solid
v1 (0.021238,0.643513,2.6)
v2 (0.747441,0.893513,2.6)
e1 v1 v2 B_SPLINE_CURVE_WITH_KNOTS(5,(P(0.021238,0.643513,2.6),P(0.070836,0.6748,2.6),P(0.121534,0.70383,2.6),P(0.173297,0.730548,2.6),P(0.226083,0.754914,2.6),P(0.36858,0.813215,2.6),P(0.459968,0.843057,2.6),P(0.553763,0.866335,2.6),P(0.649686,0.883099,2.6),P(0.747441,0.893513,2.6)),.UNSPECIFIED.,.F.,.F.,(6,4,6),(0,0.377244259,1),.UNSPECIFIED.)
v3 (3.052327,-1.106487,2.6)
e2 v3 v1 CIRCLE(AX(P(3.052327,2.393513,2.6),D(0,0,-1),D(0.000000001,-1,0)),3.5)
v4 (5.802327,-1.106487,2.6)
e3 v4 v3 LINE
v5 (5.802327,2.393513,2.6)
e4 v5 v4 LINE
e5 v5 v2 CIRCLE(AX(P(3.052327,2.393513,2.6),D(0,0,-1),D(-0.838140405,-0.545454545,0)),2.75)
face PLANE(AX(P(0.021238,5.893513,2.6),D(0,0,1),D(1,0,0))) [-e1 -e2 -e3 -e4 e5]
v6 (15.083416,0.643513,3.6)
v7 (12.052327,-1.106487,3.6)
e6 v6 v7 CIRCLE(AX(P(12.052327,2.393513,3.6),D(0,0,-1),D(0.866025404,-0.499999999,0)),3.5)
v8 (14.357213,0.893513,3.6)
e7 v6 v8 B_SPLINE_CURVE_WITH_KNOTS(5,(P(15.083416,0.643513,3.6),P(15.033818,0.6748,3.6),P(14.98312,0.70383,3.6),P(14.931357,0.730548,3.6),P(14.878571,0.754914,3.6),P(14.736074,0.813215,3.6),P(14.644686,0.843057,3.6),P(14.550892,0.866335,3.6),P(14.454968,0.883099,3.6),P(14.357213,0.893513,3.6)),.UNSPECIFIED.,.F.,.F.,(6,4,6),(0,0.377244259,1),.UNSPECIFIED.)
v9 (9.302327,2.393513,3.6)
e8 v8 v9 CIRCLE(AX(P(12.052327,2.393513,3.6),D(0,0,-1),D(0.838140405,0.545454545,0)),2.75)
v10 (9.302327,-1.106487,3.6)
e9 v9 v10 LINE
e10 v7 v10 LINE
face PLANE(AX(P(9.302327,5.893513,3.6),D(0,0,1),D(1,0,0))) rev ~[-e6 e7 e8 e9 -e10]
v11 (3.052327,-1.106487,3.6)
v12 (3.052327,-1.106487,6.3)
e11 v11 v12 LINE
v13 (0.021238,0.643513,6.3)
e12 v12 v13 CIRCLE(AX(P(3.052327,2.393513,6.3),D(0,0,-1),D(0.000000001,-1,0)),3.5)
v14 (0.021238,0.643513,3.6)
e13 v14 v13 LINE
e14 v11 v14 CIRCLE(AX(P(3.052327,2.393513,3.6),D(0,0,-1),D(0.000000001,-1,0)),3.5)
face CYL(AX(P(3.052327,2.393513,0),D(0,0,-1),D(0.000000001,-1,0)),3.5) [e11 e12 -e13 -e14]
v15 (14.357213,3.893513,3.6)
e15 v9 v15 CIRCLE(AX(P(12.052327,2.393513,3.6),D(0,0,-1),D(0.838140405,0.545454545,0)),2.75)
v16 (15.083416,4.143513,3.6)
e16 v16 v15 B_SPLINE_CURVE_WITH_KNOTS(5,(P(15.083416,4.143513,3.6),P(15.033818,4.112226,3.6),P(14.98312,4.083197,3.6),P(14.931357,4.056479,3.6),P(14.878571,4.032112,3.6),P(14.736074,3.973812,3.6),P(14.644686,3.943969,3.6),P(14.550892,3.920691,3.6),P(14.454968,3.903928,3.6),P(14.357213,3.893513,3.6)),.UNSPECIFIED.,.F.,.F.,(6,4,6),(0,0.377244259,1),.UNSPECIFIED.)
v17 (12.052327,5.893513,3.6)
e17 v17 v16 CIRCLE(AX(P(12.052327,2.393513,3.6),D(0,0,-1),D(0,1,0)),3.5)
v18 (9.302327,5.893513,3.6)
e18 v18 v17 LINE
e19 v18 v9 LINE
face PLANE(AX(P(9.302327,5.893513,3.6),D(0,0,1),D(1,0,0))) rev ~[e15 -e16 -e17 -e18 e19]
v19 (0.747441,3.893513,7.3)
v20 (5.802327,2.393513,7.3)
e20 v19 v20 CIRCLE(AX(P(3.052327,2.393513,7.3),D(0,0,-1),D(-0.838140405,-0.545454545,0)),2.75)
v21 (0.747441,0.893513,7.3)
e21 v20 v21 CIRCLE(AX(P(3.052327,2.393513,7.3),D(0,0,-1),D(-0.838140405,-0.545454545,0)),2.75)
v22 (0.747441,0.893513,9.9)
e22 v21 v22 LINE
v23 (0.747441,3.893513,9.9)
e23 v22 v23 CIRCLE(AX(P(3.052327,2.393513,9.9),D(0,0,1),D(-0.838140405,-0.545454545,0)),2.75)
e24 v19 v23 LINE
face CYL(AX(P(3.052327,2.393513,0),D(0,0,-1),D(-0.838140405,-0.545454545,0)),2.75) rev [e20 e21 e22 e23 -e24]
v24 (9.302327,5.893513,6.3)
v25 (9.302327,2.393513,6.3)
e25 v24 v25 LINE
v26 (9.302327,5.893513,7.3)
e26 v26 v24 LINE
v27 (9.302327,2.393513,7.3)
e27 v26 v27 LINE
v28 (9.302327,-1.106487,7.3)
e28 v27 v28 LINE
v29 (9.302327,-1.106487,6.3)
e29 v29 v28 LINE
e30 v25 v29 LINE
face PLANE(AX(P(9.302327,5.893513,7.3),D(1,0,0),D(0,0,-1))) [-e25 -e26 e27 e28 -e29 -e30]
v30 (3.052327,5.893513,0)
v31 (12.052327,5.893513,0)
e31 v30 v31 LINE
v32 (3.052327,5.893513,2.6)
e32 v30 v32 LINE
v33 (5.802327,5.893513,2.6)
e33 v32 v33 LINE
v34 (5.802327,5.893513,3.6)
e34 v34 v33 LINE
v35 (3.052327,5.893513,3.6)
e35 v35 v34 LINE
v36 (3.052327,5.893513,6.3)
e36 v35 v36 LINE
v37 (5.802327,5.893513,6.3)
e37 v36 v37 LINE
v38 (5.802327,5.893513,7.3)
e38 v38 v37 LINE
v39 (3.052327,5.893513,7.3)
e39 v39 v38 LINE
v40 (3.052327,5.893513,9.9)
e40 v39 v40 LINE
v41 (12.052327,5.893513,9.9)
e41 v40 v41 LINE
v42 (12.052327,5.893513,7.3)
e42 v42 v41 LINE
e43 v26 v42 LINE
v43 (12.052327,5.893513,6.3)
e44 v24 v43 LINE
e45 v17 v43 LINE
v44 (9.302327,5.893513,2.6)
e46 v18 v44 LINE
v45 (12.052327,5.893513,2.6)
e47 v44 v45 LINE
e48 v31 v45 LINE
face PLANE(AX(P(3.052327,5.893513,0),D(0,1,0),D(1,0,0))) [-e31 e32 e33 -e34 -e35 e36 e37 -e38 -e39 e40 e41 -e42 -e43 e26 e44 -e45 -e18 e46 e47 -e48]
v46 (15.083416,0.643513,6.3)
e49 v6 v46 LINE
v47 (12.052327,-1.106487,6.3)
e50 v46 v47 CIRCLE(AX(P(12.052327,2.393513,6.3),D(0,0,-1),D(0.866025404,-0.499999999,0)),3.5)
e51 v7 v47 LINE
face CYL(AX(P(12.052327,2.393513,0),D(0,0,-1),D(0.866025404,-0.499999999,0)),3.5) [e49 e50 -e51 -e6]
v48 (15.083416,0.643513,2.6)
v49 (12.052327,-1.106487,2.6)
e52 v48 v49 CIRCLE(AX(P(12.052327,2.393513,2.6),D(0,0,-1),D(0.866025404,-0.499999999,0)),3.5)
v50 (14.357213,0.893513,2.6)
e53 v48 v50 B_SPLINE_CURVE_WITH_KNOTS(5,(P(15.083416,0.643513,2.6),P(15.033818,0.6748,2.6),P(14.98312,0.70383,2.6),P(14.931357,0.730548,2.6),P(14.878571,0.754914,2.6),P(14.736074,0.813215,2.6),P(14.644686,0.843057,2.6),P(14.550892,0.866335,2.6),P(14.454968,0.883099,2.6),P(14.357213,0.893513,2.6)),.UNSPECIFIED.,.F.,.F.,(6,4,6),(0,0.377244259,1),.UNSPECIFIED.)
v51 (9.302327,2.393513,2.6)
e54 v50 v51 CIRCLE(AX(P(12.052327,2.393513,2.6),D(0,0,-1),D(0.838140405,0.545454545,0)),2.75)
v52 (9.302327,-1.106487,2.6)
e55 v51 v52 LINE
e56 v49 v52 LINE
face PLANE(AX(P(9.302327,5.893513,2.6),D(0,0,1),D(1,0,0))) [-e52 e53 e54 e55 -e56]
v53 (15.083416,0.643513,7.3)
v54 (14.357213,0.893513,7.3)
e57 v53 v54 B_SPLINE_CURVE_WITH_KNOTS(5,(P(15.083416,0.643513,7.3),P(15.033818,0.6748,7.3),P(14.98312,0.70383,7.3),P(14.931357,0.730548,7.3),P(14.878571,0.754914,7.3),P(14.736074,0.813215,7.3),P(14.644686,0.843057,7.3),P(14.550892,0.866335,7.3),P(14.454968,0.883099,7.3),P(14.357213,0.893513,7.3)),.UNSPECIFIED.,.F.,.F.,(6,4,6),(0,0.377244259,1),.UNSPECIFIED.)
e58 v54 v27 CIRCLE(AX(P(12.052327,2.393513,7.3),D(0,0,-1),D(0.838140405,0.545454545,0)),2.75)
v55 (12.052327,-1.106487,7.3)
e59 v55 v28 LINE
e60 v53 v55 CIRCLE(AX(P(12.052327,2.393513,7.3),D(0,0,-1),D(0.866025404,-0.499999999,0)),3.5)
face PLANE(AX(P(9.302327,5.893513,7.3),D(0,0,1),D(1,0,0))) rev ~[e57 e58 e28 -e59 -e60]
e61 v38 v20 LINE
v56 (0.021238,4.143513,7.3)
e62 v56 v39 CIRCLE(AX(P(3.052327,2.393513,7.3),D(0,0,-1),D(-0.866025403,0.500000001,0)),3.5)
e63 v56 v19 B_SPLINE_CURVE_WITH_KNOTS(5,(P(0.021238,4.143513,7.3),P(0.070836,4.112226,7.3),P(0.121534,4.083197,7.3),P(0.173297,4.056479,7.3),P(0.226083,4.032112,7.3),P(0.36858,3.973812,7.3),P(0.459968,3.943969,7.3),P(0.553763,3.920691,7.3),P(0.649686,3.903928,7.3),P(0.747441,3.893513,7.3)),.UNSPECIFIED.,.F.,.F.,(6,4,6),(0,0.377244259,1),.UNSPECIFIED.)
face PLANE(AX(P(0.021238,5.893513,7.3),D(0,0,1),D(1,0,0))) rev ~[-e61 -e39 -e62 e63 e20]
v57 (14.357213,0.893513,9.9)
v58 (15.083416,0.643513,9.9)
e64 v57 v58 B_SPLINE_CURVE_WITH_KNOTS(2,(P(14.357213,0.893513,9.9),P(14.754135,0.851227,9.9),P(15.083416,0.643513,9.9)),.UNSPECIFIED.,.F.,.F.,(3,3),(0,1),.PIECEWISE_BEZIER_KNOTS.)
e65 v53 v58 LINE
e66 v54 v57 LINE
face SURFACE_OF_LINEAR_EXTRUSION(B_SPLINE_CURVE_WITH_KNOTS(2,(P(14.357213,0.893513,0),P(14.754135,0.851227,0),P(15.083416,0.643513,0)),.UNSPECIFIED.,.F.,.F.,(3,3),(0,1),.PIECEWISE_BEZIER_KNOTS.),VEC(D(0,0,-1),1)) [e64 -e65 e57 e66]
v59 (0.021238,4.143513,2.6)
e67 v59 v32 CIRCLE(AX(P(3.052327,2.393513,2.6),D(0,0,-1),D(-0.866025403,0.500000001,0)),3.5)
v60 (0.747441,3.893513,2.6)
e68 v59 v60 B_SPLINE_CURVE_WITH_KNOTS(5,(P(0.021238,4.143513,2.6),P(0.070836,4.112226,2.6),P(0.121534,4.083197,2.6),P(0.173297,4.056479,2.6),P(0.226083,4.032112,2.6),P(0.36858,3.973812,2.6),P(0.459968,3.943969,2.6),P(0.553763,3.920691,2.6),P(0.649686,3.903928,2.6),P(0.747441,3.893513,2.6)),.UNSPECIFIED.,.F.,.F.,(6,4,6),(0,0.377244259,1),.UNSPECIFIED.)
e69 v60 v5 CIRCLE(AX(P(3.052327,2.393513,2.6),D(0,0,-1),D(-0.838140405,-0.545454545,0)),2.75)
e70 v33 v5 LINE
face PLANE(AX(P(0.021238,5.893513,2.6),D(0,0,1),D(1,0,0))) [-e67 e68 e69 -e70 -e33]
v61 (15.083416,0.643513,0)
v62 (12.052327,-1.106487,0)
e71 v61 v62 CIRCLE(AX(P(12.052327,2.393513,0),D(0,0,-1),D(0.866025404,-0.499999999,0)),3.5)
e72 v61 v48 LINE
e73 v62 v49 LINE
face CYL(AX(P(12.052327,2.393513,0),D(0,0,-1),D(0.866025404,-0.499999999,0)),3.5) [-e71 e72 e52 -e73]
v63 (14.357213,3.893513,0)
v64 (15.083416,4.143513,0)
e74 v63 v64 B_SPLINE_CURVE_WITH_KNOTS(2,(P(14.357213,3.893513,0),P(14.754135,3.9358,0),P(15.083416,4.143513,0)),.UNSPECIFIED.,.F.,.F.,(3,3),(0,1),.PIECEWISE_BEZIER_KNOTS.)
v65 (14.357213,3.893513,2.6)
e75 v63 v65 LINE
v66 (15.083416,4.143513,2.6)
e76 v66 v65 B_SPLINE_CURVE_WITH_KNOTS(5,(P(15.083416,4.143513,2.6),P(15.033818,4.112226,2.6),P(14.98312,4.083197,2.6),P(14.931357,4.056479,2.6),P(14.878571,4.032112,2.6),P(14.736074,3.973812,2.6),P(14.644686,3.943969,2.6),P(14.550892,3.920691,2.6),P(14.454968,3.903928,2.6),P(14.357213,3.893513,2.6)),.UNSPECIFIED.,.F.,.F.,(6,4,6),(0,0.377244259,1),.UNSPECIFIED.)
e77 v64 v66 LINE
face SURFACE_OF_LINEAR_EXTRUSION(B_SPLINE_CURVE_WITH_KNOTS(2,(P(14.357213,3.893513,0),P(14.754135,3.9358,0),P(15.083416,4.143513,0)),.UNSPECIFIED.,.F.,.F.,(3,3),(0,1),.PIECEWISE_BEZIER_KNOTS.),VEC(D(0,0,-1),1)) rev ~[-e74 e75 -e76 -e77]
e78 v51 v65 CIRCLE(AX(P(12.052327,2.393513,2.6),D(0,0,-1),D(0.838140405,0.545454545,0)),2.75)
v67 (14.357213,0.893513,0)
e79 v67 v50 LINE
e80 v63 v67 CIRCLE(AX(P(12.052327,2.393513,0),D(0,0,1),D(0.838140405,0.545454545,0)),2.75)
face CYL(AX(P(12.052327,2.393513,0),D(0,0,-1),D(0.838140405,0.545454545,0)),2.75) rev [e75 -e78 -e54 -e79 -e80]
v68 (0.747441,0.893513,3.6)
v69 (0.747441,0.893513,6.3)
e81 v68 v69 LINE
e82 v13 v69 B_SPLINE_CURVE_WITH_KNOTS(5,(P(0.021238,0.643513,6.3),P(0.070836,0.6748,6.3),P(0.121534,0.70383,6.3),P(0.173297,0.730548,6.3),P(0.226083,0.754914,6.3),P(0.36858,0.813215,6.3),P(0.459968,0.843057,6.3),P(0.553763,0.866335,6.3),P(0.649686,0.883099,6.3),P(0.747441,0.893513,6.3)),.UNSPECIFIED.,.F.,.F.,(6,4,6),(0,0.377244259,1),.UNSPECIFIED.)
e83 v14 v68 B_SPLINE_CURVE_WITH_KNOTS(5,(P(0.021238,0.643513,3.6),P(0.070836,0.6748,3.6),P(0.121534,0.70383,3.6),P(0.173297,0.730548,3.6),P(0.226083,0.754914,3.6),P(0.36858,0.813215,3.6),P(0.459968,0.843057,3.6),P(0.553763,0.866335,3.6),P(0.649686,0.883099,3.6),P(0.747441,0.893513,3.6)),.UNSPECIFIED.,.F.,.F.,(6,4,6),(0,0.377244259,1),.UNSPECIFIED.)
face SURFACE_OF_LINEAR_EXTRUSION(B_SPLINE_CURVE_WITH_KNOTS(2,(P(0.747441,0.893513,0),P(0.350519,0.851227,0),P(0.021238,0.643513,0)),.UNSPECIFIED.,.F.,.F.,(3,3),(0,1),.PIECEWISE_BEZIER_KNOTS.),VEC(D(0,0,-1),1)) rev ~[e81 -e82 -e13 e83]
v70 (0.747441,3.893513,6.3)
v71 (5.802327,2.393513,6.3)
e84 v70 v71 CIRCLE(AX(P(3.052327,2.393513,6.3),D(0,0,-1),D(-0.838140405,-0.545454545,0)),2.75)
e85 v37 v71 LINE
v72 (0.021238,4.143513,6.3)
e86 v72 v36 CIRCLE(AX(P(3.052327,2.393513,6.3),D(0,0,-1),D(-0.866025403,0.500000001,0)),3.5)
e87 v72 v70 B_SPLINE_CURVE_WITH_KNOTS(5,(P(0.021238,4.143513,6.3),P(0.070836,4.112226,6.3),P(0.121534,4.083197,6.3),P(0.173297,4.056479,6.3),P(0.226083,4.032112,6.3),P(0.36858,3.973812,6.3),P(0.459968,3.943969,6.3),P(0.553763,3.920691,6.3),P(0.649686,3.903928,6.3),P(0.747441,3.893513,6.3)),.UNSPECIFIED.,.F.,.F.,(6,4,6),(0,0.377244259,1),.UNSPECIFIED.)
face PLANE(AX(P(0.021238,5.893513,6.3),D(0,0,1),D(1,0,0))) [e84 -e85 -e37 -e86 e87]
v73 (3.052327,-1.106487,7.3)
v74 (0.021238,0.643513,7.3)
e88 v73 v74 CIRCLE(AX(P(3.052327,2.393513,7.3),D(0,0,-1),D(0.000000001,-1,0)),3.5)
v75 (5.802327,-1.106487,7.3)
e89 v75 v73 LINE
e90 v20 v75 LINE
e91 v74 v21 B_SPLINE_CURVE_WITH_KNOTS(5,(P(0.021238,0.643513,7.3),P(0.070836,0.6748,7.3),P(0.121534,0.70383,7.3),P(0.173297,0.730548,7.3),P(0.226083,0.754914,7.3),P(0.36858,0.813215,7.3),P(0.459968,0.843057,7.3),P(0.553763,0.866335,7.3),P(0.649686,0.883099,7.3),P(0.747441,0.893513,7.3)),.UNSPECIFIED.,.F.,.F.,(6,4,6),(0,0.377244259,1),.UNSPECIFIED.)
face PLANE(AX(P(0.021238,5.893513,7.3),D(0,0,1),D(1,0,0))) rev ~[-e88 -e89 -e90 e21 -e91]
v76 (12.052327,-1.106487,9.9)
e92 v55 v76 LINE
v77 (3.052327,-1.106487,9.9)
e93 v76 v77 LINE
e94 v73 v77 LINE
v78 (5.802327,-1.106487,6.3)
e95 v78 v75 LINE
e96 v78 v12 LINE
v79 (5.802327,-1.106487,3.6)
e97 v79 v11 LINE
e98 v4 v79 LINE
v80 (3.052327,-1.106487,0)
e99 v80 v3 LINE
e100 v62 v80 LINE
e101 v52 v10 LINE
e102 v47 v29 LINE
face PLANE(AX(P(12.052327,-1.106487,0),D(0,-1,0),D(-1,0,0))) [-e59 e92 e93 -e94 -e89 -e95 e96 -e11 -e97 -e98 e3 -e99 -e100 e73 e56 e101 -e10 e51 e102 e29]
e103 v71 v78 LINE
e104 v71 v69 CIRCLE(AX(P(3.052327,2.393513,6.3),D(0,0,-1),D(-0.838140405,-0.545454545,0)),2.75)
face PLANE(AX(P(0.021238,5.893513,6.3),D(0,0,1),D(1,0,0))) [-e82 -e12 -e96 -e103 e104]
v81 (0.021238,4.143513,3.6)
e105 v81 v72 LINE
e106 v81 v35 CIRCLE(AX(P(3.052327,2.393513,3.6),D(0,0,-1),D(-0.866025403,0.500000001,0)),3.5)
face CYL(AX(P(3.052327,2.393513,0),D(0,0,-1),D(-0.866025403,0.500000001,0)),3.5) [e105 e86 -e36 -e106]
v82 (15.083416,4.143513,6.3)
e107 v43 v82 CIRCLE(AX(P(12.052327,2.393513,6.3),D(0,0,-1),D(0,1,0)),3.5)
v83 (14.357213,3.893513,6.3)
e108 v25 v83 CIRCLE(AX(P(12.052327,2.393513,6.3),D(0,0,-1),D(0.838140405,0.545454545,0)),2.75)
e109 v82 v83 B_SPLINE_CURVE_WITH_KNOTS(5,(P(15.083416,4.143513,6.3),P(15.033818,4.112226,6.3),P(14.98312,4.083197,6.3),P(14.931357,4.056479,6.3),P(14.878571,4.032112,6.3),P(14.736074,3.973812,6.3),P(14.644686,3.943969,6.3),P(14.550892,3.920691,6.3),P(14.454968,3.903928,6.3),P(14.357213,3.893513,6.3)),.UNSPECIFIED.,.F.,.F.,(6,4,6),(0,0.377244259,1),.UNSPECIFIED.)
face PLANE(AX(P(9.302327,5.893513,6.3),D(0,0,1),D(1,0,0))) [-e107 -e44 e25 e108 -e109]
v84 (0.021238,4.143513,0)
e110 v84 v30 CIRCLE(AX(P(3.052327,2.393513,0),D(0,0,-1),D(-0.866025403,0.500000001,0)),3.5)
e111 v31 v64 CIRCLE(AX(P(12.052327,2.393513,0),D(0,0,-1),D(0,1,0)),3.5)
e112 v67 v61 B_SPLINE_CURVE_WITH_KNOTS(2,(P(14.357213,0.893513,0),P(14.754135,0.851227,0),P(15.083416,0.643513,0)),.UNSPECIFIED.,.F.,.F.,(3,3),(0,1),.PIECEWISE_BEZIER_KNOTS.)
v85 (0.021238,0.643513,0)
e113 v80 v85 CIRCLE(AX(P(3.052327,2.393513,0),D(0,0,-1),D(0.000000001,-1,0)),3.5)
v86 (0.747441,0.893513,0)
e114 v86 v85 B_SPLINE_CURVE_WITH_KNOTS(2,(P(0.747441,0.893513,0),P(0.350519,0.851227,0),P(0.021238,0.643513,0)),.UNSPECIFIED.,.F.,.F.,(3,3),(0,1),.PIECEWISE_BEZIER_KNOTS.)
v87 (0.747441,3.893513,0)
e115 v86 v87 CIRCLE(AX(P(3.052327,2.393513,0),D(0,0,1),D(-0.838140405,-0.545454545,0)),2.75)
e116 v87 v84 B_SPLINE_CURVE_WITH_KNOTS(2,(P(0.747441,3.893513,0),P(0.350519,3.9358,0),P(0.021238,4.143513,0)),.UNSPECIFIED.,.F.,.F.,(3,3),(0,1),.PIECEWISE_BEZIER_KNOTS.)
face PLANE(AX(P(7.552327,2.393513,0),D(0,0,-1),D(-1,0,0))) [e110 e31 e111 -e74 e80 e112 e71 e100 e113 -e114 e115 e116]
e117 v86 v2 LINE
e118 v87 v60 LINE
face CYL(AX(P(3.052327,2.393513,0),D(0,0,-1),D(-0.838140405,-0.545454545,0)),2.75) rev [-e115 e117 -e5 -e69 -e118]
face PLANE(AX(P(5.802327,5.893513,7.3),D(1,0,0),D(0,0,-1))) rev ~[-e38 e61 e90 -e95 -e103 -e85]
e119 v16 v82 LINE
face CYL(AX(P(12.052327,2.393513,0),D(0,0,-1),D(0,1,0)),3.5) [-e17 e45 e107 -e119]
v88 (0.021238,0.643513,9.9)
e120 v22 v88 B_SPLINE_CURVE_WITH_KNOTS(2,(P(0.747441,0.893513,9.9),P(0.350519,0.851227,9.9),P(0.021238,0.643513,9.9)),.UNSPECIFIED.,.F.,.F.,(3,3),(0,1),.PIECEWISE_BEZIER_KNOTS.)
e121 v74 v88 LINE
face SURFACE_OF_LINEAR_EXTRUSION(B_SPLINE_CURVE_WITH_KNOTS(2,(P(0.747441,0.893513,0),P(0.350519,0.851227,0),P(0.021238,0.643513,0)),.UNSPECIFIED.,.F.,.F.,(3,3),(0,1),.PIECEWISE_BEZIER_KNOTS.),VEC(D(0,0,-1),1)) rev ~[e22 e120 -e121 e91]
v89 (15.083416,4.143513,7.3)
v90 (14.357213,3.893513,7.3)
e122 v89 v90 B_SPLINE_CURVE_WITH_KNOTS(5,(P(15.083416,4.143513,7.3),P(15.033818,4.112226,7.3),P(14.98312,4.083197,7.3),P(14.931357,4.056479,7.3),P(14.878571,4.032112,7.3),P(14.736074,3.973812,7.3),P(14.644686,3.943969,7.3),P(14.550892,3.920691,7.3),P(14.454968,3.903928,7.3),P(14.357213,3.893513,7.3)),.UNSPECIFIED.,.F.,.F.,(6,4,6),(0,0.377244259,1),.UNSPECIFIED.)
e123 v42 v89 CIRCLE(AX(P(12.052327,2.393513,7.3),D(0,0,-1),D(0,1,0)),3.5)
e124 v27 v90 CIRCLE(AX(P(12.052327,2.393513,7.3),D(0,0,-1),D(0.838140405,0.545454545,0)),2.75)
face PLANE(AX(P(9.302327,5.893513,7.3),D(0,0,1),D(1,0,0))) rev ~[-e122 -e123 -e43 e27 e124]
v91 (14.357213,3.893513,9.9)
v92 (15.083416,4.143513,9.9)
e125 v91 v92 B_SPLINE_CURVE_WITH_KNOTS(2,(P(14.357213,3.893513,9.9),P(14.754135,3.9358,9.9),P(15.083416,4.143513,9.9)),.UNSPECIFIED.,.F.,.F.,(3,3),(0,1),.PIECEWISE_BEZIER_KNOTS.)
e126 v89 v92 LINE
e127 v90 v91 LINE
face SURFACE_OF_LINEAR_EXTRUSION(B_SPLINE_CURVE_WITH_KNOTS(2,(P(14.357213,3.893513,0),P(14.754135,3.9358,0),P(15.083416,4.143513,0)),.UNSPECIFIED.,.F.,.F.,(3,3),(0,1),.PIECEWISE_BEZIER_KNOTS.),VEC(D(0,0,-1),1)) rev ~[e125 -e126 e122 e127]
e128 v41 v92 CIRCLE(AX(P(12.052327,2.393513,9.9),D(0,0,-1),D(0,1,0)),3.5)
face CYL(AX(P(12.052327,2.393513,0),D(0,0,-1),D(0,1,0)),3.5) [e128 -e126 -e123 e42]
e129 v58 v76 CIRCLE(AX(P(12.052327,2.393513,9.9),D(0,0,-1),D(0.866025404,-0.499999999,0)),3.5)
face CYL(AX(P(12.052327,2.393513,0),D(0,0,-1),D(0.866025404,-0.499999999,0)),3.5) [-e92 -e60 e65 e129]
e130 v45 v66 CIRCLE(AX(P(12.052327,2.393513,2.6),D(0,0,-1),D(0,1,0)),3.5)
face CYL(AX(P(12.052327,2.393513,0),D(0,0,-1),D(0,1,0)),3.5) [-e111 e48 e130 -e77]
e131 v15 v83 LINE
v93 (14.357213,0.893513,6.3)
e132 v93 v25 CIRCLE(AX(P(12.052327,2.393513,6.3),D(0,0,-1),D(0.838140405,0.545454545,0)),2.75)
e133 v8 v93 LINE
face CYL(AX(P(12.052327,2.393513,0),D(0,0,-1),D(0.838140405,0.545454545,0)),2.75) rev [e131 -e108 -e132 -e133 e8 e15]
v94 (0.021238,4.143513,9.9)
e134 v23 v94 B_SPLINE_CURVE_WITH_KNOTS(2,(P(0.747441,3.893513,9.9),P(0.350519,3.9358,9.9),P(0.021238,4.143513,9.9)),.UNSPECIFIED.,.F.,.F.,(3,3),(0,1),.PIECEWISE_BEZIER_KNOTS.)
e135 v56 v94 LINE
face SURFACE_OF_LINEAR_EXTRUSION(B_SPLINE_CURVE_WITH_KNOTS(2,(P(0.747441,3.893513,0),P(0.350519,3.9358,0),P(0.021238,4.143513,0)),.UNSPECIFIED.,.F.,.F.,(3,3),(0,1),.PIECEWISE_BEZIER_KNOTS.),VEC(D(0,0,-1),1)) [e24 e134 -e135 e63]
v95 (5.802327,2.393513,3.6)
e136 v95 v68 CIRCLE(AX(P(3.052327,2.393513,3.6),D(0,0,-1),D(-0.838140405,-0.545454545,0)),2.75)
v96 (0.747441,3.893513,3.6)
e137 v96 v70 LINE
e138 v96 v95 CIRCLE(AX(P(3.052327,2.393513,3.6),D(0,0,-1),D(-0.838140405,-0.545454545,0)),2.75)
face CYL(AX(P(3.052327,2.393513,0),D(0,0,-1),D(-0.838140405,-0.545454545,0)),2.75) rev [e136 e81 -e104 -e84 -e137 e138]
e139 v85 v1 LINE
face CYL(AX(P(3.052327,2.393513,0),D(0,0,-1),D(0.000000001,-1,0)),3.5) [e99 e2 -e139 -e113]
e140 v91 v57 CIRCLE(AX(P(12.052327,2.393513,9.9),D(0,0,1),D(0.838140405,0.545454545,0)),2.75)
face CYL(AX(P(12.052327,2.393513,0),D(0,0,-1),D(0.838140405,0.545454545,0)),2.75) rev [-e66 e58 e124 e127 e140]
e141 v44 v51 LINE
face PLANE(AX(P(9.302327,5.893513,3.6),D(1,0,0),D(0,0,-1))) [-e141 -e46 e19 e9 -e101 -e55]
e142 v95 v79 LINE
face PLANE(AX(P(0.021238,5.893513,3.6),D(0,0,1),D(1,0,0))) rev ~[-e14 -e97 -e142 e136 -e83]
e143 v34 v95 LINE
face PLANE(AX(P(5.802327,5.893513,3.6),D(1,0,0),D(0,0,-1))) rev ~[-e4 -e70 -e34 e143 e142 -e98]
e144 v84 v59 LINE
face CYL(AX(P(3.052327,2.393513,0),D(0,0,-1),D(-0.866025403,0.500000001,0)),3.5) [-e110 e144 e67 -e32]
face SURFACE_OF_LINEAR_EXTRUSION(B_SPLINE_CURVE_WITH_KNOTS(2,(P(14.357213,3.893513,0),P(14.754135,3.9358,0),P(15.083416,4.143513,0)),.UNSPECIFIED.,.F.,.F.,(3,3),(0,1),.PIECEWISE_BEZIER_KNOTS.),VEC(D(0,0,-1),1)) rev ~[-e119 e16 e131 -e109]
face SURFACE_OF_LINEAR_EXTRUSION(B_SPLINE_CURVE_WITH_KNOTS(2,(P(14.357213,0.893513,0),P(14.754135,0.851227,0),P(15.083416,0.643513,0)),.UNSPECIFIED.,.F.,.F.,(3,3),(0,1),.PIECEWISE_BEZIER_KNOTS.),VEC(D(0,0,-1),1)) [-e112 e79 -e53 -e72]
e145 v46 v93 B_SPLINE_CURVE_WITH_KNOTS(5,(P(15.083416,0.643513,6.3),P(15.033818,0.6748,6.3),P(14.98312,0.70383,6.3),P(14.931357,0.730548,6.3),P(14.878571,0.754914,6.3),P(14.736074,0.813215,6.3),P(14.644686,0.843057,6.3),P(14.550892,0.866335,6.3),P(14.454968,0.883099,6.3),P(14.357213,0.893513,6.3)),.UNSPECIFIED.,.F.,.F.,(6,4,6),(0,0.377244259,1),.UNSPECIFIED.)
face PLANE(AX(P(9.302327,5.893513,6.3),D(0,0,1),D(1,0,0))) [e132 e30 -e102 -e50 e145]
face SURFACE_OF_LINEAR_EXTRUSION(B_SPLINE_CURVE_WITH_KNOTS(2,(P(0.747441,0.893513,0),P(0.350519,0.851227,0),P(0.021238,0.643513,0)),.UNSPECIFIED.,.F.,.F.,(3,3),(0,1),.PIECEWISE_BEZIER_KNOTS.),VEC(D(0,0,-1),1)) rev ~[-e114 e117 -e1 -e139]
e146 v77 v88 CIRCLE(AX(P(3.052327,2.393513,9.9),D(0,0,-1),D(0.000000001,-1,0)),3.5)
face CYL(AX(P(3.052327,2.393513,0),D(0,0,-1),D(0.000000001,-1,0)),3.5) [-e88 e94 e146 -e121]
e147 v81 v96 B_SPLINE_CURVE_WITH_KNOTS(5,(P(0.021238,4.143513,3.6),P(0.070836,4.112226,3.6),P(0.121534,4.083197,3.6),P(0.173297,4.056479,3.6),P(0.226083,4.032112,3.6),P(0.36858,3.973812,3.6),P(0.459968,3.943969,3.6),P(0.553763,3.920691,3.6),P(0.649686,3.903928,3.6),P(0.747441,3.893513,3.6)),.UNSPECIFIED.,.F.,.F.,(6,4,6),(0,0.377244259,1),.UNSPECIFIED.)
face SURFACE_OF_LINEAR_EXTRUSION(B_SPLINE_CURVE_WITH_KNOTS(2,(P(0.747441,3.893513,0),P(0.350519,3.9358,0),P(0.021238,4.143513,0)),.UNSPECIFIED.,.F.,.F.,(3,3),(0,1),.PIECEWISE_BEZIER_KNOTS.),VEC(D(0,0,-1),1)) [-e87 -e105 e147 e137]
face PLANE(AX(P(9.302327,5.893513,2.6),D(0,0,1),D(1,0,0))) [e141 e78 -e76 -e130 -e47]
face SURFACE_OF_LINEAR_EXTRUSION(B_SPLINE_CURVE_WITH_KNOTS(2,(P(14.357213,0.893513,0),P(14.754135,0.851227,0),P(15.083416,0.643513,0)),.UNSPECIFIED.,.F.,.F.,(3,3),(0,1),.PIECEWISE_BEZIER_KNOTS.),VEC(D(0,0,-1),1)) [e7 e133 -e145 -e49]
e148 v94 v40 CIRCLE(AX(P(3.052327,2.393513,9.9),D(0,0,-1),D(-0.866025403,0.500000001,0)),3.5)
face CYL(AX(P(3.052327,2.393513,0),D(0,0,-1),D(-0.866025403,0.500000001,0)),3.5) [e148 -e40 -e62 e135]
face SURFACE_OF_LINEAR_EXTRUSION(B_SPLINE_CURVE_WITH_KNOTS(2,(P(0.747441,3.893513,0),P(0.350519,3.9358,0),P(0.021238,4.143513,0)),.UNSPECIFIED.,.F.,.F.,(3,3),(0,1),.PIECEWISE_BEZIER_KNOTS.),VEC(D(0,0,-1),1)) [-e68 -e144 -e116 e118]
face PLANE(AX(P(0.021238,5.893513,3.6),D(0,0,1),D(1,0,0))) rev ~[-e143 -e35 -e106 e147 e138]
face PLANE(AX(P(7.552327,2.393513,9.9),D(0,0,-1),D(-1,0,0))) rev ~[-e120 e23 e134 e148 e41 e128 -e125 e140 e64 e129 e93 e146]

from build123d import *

# Parameters (mm, degrees)
BOSS_EXTRUDE1_DEPTH = 9.9
SKETCH4_W           = 5.781088914
SKETCH4_H           = 1
SKETCH4_W_2         = 5.781088913
CUT_EXTRUDE3_DEPTH  = 20.352504887


with BuildPart() as part:
    # Sketch1 → Boss-Extrude1 (new body)
    with BuildSketch(Plane.XY):
        with BuildLine():
            Line((3.052327113, 5.893513233), (12.052327113, 5.893513233))
            ThreePointArc((12.052327113, 5.893513233), (13.802327113, 5.424602146), (15.083416026, 4.143513233))
            add(Edge.make_bspline(
                [(14.357213227, 3.893513233), (14.754135226, 3.935799795), (15.083416026, 4.143513233)],
                knots=[0, 0, 0, 1, 1, 1], degree=2))
            ThreePointArc((14.357213227, 3.893513233), (9.302327113, 2.393513233), (14.357213227, 0.893513233))
            add(Edge.make_bspline(
                [(14.357213227, 0.893513233), (14.754135226, 0.851226671), (15.083416026, 0.643513233)],
                knots=[0, 0, 0, 1, 1, 1], degree=2))
            ThreePointArc((15.083416026, 0.643513233), (13.802327113, -0.637575681), (12.052327113, -1.106486767))
            Line((12.052327113, -1.106486767), (3.052327113, -1.106486767))
            ThreePointArc((3.052327113, -1.106486767), (1.302327113, -0.637575681), (0.021238199, 0.643513233))
            add(Edge.make_bspline(
                [(0.747440998, 0.893513233), (0.350518999, 0.851226671), (0.021238199, 0.643513233)],
                knots=[0, 0, 0, 1, 1, 1], degree=2))
            ThreePointArc((0.747440998, 0.893513233), (5.802327113, 2.393513233), (0.747440998, 3.893513233))
            add(Edge.make_bspline(
                [(0.747440998, 3.893513233), (0.350518999, 3.935799795), (0.021238199, 4.143513233)],
                knots=[0, 0, 0, 1, 1, 1], degree=2))
            ThreePointArc((0.021238199, 4.143513233), (1.302327113, 5.424602146), (3.052327113, 5.893513233))
        make_face()
    extrude(amount=BOSS_EXTRUDE1_DEPTH)

    # Sketch4 → Cut-Extrude3 (cut, through all)
    with BuildSketch(Plane(origin=(0, 5.893513233, 0), x_dir=(1, 0, 0), z_dir=(0, 1, 0))):
        with Locations((2.911782656, -3.1)):
            Rectangle(SKETCH4_W, SKETCH4_H)
        with Locations((12.192871569, -3.1)):
            Rectangle(SKETCH4_W_2, SKETCH4_H)
        with Locations((12.192871569, -6.8)):
            Rectangle(SKETCH4_W_2, SKETCH4_H)
        with Locations((2.911782656, -6.8)):
            Rectangle(SKETCH4_W, SKETCH4_H)
    extrude(amount=-CUT_EXTRUDE3_DEPTH, mode=Mode.SUBTRACT)


solid = part.part
